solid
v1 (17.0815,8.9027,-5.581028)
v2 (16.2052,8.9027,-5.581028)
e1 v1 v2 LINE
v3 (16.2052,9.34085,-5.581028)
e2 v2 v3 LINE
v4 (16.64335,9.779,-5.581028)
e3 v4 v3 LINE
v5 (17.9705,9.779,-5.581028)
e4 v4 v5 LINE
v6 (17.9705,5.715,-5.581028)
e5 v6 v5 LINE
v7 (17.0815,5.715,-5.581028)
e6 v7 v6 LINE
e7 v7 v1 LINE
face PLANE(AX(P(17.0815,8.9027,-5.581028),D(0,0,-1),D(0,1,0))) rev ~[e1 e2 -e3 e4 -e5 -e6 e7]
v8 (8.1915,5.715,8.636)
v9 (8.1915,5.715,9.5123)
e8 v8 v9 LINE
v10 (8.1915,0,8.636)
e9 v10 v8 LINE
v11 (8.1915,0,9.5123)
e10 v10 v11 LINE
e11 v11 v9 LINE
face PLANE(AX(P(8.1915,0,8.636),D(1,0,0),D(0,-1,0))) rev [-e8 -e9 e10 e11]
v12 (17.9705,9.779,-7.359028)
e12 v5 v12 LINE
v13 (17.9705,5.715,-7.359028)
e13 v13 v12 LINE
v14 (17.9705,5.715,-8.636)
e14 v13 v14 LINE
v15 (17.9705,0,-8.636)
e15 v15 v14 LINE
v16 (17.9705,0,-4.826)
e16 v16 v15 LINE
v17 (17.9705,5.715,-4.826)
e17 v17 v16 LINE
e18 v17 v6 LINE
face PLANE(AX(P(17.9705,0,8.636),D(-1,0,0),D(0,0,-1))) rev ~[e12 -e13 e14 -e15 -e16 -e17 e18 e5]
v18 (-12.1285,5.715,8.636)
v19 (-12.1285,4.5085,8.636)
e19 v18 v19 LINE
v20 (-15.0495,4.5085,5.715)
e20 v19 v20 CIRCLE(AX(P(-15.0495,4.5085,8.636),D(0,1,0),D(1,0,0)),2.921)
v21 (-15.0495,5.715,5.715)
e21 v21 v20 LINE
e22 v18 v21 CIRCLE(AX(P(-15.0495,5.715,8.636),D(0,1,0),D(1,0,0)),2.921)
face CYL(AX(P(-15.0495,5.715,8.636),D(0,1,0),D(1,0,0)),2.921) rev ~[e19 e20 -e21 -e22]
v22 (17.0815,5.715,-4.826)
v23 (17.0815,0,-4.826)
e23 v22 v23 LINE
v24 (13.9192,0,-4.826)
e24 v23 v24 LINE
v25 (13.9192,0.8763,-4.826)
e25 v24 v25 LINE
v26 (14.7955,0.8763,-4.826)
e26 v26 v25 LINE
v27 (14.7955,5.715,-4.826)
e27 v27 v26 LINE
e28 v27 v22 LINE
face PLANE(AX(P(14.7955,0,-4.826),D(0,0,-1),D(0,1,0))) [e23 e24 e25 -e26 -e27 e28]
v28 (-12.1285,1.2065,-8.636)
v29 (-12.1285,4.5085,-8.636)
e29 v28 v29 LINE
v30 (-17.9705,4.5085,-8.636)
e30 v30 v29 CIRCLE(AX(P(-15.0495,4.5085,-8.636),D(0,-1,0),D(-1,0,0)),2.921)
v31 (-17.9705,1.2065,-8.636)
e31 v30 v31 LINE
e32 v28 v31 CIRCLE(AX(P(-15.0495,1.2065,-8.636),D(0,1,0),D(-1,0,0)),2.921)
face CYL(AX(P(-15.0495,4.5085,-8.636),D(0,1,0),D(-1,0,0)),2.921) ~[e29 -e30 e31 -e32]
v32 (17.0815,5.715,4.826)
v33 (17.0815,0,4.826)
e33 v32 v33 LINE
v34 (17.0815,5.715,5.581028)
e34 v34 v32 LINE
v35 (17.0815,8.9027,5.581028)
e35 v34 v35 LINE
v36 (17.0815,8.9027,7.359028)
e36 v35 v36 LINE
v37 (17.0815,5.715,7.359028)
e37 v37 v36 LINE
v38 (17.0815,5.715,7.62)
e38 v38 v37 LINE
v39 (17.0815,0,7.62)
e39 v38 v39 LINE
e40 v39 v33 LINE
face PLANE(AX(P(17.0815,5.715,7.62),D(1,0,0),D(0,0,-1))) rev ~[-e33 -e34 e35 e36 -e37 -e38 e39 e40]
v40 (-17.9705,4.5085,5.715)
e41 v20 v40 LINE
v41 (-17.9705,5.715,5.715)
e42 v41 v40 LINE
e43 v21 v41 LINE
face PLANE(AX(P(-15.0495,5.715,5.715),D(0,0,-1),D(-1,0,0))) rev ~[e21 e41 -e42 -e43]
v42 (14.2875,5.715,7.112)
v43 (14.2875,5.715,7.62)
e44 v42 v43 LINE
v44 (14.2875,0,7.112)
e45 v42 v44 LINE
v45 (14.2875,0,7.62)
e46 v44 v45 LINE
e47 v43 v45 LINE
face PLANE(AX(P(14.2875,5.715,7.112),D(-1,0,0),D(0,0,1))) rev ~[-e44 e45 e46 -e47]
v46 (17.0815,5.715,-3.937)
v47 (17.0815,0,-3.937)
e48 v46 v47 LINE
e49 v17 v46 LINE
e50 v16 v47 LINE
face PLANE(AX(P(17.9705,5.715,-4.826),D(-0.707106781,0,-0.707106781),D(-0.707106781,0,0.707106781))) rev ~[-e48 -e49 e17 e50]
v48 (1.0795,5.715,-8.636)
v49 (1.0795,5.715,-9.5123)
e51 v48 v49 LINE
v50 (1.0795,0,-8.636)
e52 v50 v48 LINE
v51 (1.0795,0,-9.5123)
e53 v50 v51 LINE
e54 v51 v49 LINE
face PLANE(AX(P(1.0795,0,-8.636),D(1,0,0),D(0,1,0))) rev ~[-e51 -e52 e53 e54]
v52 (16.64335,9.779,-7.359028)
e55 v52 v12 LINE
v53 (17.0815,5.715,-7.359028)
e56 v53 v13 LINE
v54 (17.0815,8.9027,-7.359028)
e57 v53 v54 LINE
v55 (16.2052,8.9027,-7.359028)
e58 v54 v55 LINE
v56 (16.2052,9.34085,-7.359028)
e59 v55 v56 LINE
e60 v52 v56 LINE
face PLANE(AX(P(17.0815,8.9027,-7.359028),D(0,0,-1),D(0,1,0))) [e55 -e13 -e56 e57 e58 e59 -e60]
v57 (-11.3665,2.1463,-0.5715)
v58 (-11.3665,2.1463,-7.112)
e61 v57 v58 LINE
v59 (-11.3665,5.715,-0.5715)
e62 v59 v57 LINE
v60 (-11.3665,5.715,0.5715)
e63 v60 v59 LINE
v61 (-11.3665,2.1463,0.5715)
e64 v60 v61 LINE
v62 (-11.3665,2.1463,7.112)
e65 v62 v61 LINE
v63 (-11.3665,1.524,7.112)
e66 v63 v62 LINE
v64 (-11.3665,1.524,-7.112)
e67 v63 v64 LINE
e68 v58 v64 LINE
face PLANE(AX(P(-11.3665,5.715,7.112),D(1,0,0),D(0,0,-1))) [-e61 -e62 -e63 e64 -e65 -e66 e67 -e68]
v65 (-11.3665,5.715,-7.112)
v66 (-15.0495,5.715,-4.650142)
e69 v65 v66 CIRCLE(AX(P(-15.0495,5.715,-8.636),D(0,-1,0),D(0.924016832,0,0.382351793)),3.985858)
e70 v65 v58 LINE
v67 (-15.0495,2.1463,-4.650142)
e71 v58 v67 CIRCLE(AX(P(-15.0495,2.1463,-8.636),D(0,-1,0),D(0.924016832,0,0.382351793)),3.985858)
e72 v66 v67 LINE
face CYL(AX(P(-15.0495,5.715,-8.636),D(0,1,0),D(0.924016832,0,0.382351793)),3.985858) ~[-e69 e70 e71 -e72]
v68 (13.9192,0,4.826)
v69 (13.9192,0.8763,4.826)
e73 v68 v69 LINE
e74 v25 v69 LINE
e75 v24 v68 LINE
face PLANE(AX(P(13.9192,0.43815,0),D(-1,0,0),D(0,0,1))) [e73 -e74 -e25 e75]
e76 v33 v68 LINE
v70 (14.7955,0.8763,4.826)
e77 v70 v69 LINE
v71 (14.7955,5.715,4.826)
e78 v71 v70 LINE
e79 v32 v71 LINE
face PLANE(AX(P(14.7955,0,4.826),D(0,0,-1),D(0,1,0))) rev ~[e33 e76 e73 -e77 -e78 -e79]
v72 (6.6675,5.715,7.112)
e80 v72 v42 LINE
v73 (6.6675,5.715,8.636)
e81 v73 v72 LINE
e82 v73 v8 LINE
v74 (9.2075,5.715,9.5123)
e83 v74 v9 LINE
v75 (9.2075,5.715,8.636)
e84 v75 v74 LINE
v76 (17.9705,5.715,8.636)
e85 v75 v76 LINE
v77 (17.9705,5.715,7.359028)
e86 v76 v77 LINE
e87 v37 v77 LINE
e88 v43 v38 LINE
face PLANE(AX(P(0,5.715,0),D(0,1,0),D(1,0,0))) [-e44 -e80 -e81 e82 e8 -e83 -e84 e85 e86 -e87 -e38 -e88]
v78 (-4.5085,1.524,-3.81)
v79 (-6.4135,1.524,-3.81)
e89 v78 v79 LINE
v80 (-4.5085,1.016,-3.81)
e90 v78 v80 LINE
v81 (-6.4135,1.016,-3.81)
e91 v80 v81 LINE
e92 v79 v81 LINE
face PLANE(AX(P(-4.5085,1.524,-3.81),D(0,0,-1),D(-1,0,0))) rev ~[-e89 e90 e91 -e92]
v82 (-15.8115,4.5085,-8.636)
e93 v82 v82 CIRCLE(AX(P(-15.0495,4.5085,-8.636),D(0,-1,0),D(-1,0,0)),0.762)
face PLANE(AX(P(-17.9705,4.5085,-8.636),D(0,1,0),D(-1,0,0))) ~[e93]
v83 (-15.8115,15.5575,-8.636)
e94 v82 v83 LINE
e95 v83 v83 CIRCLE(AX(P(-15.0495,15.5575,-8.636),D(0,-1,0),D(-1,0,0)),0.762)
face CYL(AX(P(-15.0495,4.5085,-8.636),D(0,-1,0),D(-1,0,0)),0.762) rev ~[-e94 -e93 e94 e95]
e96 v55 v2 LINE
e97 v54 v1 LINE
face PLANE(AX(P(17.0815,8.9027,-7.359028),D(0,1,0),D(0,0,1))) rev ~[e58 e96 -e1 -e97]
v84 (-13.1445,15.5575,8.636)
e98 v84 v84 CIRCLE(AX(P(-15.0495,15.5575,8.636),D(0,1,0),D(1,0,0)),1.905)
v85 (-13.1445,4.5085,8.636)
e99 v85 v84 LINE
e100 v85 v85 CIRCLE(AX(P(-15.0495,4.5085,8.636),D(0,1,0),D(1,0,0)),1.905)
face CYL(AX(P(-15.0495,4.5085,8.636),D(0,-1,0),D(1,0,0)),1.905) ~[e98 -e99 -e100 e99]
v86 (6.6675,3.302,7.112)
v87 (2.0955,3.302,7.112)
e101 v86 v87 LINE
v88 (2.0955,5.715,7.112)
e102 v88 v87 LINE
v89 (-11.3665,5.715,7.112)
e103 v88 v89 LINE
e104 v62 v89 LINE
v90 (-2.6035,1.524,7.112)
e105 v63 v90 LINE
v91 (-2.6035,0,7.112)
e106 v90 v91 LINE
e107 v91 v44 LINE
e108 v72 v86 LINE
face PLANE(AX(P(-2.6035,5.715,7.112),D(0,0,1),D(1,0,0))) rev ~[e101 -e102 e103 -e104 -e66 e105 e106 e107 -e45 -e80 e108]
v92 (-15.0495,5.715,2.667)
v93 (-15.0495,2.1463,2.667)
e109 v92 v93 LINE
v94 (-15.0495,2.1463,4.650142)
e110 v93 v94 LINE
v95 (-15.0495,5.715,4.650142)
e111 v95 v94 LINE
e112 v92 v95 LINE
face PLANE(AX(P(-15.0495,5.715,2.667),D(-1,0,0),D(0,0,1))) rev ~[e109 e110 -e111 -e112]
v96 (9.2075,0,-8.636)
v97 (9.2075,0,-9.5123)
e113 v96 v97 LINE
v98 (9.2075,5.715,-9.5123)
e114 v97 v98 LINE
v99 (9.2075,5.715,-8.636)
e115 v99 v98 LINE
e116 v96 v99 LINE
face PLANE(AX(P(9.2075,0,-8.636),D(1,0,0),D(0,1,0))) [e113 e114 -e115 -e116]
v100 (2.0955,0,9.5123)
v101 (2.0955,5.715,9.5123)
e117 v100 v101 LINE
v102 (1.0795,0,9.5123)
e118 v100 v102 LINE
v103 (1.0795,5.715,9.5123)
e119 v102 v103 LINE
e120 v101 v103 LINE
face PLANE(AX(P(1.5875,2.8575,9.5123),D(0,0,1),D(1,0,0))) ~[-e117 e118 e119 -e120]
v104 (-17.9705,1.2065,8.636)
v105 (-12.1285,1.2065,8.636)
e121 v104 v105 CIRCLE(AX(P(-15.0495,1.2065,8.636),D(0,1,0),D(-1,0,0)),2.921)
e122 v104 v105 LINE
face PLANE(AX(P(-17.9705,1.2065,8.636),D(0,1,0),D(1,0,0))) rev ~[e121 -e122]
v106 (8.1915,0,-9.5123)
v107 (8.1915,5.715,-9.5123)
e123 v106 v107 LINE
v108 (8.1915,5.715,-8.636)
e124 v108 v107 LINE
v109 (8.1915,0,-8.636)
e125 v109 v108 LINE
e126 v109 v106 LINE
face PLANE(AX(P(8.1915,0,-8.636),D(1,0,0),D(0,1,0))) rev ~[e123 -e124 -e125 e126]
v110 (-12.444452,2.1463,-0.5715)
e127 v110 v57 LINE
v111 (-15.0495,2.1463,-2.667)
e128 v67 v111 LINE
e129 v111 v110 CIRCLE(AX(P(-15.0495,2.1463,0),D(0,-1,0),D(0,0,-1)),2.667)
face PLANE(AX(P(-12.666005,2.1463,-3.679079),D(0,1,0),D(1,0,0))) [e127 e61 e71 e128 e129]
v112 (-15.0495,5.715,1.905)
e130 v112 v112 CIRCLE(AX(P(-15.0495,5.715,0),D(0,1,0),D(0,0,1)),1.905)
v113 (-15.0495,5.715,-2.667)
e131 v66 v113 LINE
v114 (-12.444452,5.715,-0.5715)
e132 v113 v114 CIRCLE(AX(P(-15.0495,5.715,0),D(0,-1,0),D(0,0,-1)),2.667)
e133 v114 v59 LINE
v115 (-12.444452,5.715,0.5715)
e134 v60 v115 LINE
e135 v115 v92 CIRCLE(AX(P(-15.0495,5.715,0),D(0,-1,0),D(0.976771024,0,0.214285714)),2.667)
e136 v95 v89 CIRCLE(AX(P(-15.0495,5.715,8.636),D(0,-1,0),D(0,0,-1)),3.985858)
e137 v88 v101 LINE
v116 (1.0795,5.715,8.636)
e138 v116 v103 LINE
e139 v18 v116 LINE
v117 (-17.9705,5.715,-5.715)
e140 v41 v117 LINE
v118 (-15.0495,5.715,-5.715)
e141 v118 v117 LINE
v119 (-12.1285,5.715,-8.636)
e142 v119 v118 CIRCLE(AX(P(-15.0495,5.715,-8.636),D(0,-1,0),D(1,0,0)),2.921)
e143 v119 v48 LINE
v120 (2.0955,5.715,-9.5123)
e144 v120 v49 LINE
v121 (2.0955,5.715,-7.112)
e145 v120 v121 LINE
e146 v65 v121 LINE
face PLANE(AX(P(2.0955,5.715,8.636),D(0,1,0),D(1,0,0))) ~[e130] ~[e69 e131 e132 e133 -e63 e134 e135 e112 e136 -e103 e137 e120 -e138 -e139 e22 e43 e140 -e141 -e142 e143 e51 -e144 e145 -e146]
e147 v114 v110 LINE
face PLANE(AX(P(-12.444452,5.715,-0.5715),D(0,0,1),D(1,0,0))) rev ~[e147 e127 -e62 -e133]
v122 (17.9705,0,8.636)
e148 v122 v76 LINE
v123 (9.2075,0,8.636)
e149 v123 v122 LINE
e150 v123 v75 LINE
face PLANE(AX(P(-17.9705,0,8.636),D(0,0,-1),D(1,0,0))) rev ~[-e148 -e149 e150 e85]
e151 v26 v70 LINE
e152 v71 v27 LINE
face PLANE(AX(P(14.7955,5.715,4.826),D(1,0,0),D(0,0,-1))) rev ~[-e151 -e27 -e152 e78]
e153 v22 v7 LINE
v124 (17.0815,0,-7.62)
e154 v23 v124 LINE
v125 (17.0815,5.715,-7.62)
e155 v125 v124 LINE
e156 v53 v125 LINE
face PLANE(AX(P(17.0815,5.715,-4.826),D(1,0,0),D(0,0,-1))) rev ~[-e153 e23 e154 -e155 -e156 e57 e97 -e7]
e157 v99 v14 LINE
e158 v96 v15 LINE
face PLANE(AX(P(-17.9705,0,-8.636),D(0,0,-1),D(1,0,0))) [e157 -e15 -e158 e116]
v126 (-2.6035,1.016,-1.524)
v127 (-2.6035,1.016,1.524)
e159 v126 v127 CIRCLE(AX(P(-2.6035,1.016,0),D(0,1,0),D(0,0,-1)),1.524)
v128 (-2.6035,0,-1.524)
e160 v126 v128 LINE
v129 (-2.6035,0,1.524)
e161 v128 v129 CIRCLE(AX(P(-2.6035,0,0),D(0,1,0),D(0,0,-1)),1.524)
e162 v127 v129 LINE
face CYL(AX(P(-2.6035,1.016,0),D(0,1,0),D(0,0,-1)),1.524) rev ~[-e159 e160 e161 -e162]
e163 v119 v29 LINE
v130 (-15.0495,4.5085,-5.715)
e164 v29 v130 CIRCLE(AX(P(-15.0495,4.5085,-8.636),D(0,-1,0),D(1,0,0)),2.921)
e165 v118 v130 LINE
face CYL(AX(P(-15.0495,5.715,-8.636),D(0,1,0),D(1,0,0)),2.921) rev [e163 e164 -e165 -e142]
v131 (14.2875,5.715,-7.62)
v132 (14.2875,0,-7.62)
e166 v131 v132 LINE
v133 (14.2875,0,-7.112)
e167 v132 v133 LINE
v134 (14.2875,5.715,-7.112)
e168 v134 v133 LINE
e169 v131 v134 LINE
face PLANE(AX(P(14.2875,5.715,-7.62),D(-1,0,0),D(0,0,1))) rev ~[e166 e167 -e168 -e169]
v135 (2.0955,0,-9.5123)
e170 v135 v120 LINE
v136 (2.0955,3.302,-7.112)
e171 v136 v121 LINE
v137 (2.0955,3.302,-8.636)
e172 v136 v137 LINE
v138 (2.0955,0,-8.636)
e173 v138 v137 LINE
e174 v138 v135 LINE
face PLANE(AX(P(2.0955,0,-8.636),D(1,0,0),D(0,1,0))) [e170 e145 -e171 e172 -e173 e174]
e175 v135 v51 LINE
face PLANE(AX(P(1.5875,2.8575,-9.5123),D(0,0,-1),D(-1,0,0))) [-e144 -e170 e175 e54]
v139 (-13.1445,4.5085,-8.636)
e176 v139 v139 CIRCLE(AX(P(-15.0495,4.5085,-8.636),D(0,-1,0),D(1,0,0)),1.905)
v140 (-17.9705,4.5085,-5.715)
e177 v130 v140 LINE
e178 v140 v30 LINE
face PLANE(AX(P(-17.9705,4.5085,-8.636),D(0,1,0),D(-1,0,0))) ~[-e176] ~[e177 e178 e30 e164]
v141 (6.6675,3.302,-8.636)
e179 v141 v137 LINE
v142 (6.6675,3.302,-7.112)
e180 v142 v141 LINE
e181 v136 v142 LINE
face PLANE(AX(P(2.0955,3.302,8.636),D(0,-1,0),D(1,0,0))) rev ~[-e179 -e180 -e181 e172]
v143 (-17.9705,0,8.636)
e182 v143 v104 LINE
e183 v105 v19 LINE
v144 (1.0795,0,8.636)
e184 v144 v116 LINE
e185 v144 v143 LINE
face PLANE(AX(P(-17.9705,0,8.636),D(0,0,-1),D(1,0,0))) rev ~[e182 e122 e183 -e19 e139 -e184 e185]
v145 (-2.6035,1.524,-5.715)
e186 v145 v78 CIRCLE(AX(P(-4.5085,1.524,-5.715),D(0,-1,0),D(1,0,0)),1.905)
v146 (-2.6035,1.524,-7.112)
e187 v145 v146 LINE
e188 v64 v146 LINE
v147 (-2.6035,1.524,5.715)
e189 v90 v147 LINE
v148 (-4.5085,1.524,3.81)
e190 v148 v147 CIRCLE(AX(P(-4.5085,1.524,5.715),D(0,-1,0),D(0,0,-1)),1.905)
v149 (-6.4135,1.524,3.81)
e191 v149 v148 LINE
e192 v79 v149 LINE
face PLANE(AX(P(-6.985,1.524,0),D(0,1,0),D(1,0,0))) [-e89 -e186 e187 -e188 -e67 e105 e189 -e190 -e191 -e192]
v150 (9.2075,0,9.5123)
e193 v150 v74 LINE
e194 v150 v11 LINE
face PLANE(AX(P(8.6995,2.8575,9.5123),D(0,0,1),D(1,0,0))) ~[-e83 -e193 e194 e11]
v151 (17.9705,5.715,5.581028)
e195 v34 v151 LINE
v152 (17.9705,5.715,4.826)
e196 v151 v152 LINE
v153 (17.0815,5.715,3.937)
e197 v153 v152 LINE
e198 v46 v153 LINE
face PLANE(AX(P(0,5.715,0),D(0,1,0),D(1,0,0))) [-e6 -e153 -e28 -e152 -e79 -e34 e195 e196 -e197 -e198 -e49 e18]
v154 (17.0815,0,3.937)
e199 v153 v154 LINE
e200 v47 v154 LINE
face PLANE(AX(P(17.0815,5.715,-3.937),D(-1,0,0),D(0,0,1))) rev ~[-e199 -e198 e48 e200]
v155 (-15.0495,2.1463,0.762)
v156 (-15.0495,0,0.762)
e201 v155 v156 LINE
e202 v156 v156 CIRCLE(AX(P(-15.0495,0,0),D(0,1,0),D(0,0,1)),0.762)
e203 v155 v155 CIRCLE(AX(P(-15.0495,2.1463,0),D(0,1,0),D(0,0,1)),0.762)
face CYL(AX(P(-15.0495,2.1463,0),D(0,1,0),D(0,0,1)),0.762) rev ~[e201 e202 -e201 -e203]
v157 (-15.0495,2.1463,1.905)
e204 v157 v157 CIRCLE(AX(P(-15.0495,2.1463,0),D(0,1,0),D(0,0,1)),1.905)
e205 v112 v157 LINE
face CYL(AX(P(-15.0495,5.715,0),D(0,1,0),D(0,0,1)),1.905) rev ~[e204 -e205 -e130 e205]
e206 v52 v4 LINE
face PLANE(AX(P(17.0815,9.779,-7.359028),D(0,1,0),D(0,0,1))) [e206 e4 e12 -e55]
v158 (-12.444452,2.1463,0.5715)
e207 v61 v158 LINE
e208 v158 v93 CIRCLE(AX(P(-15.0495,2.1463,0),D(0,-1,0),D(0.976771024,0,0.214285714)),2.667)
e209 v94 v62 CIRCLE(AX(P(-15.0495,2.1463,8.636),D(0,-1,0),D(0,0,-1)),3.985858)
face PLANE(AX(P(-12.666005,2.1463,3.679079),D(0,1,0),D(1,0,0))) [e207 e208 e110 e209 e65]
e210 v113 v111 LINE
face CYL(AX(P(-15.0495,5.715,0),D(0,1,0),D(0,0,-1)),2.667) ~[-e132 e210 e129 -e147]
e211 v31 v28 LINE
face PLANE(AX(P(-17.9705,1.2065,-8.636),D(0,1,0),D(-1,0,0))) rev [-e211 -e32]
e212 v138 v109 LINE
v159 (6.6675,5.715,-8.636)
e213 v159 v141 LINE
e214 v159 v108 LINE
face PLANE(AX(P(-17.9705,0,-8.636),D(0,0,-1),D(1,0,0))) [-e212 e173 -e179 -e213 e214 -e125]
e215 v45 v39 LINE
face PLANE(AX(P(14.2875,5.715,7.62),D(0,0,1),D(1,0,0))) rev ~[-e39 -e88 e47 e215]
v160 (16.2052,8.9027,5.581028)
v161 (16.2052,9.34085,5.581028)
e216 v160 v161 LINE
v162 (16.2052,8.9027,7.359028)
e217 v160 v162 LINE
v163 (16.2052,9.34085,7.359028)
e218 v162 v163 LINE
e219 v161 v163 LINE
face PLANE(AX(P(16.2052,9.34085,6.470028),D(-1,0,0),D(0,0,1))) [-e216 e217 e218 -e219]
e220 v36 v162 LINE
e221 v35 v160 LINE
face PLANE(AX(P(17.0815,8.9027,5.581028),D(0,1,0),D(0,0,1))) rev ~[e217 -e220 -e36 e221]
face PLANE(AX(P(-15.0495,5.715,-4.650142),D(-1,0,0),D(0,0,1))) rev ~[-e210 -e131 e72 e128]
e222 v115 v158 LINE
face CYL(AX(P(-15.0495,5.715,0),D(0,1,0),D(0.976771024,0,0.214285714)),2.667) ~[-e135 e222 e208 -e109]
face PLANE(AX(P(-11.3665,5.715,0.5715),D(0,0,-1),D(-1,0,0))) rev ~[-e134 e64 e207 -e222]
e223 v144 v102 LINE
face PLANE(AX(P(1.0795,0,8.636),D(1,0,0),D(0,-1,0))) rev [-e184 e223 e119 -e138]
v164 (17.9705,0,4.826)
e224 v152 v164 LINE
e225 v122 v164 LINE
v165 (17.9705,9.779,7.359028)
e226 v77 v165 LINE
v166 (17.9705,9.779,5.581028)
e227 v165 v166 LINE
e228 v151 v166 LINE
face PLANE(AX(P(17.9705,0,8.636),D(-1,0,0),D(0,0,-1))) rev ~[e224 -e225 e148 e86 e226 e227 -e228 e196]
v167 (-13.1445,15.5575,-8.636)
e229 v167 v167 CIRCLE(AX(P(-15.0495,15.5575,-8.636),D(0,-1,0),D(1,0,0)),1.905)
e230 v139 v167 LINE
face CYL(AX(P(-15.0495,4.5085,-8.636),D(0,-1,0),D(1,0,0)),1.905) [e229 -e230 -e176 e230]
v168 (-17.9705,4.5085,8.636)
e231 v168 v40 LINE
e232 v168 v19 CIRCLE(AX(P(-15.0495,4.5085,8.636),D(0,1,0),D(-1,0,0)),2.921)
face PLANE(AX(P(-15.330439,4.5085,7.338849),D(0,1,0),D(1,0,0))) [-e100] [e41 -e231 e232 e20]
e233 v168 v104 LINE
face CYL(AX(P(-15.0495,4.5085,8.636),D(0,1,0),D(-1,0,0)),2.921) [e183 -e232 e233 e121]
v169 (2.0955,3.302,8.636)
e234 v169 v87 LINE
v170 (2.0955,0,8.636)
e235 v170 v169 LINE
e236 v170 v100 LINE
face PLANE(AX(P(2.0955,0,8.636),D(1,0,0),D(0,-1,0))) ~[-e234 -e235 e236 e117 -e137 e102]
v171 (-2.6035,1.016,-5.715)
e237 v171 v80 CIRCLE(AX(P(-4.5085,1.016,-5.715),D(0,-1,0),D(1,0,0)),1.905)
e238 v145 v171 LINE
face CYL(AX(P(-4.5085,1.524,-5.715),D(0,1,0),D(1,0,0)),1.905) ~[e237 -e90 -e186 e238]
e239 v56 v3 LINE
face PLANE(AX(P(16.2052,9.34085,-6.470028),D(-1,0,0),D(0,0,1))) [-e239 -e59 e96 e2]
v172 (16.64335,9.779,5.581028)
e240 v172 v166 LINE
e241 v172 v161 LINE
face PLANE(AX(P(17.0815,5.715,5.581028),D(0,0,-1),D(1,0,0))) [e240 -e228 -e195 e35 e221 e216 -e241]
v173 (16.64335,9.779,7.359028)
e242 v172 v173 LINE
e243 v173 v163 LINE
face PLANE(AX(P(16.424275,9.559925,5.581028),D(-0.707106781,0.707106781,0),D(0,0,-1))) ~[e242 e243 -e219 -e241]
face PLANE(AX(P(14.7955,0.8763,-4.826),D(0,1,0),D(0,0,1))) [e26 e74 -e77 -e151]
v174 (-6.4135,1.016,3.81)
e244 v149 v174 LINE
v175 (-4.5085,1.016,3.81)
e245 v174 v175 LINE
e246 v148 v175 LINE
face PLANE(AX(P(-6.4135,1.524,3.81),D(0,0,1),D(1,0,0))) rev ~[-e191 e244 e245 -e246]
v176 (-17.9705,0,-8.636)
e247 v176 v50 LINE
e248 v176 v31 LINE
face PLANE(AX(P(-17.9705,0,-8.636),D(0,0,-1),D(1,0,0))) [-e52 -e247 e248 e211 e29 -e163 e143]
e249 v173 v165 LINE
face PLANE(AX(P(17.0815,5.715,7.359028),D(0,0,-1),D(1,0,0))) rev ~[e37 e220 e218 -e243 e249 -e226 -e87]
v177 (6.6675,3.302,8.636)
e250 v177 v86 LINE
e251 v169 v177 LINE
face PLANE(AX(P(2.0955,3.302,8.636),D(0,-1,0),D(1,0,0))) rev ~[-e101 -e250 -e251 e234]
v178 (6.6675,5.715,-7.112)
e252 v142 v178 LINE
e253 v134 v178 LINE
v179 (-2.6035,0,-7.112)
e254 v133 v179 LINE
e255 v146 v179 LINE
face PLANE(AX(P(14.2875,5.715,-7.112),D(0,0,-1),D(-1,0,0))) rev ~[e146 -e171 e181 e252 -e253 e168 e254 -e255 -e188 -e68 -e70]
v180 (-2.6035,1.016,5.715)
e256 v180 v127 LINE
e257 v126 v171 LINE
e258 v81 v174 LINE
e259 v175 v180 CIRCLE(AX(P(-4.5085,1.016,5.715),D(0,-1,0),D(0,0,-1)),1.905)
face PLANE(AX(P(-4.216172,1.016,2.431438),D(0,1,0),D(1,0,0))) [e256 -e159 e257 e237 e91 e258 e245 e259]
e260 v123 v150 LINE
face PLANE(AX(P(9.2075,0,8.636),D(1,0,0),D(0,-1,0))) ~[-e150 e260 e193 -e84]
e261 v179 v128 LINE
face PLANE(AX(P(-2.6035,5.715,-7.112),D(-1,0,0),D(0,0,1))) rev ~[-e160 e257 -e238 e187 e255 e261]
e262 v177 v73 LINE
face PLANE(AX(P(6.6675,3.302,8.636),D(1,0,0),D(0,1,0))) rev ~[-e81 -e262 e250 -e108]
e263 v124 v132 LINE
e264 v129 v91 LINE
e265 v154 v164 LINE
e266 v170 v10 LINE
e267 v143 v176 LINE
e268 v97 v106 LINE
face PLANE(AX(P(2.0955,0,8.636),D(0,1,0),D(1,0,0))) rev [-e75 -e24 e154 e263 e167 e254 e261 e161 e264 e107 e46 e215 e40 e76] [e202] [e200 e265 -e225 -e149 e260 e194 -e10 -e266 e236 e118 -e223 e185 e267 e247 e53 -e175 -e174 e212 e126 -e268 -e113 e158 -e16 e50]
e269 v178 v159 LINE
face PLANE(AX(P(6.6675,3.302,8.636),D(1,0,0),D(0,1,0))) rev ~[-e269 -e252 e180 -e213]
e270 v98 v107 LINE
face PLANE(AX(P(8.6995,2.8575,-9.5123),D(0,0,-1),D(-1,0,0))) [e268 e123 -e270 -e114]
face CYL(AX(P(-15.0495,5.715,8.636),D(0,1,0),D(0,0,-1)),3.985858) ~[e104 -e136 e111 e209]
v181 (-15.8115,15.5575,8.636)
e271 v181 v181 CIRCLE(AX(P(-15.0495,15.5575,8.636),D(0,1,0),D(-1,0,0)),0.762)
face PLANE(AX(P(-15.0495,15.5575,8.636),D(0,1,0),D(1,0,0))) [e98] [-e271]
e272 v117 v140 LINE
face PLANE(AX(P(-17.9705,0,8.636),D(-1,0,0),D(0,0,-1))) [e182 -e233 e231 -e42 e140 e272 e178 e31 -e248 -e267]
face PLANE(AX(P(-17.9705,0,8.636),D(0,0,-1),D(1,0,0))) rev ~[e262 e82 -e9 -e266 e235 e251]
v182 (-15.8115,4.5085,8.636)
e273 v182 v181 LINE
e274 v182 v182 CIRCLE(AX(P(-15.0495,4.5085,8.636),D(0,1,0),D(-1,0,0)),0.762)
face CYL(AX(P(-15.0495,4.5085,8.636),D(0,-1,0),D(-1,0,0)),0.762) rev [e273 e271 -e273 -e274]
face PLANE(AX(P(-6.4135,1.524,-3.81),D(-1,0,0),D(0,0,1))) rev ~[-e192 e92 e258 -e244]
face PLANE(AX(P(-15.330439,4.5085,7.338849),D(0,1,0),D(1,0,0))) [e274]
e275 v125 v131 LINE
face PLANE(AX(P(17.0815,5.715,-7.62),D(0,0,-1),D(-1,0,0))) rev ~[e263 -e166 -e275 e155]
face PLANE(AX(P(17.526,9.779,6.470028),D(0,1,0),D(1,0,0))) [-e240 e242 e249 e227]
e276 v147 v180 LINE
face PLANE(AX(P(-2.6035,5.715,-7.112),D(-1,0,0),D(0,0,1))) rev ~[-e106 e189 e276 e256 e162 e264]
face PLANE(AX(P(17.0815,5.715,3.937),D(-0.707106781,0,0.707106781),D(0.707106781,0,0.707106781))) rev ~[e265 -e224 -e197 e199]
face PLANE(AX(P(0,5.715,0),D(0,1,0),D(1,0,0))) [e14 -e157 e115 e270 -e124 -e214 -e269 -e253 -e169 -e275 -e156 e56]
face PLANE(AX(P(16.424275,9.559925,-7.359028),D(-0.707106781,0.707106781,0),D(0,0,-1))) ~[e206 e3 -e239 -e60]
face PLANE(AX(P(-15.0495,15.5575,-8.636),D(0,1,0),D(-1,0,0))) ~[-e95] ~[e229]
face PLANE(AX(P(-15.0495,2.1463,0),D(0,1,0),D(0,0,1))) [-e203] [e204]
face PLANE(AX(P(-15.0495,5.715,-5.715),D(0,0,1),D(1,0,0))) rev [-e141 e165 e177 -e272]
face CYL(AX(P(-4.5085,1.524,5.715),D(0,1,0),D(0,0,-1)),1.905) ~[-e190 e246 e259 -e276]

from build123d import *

# Parameters (mm, degrees)
SKETCH1_W           = 35.941
SKETCH1_H           = 17.272
BOSS_EXTRUDE1_DEPTH = 5.715
SKETCH2_W           = 4.572
SKETCH2_H           = 2.413
CUT_EXTRUDE1_DEPTH  = 26.571900188
CUT_EXTRUDE2_DEPTH  = 21.740795338
SKETCH4_W           = 8.763
SKETCH4_H           = 14.224
CUT_EXTRUDE3_DEPTH  = 2.54
SKETCH4_2_W         = 8.763
SKETCH4_2_H         = 14.224
CUT_EXTRUDE4_DEPTH  = 4.191
SKETCH6_W           = 9.652
SKETCH6_H           = 0.8763
BOSS_EXTRUDE2_DEPTH = 0.8763
SKETCH7_W           = 0.889
SKETCH7_H           = 1.778
BOSS_EXTRUDE3_DEPTH = 4.064
SKETCH9_W           = 1.778
SKETCH9_H           = 0.8763
BOSS_EXTRUDE5_DEPTH = 0.8763
CHAMFER1_SIZE       = 0.43815
SKETCH11_W          = 1.016
SKETCH11_H          = 5.715
BOSS_EXTRUDE6_DEPTH = 0.8763
CUT_EXTRUDE5_DEPTH  = 0.508
CUT_EXTRUDE6_DEPTH  = 23.140751806
SKETCH20_W          = 5.842
SKETCH20_H          = 3.302
BOSS_EXTRUDE8_DEPTH = 4.318
CUT_EXTRUDE12_DEPTH = 1.2065
CUT_EXTRUDE13_DEPTH = 23.771103542
SKETCH26_R          = 1.905
SKETCH26_R_2        = 0.762
BOSS_EXTRUDE9_DEPTH = 11.049
SKETCH27_R          = 1.905
CUT_EXTRUDE14_DEPTH = 3.5687
SKETCH29_R          = 0.762
CUT_EXTRUDE15_DEPTH = 26.226244364


with BuildPart() as part:
    # Sketch1 → Boss-Extrude1 (new body)
    with BuildSketch(Plane(origin=(0, 0, 0), x_dir=(1, 0, 0), z_dir=(0, 1, 0))):
        Rectangle(SKETCH1_W, SKETCH1_H)
    extrude(amount=BOSS_EXTRUDE1_DEPTH)

    # Sketch2 → Cut-Extrude1 (cut, through all)
    with BuildSketch(Plane.XY.offset(8.636)):
        with Locations((4.3815, 4.5085)):
            Rectangle(SKETCH2_W, SKETCH2_H)
    extrude(amount=-CUT_EXTRUDE1_DEPTH, mode=Mode.SUBTRACT)

    # Sketch3 → Cut-Extrude2 (cut, through all)
    with BuildSketch(Plane(origin=(0, 5.715, 0), x_dir=(1, 0, 0), z_dir=(0, 1, 0))):
        Polygon((17.0815, 3.937), (17.0815, -3.937), (17.9705, -4.826), (17.9705, 4.826), align=None)
        Polygon((17.0815, 4.826), (17.0815, 7.62), (14.2875, 7.62), (14.2875, 7.112), (-2.6035, 7.112), (-2.6035, -7.112), (14.2875, -7.112), (14.2875, -7.62), (17.0815, -7.62), (17.0815, -4.826), (14.7955, -4.826), (14.7955, 4.826), align=None)
    extrude(amount=-CUT_EXTRUDE2_DEPTH, mode=Mode.SUBTRACT)

    # Sketch4 → Cut-Extrude3 (cut)
    with BuildSketch(Plane(origin=(0, 5.715, 0), x_dir=(1, 0, 0), z_dir=(0, 1, 0))):
        with Locations((-6.985, 0)):
            Rectangle(SKETCH4_W, SKETCH4_H)
    extrude(amount=-CUT_EXTRUDE3_DEPTH, mode=Mode.SUBTRACT)

    # Sketch4<2> → Cut-Extrude4 (cut)
    with BuildSketch(Plane(origin=(0, 5.715, 0), x_dir=(1, 0, 0), z_dir=(0, 1, 0))):
        with Locations((-6.985, 0)):
            Rectangle(SKETCH4_2_W, SKETCH4_2_H)
    extrude(amount=-CUT_EXTRUDE4_DEPTH, mode=Mode.SUBTRACT)

    # Sketch6 → Boss-Extrude2 (add)
    with BuildSketch(Plane.ZY.offset(-14.7955)):
        with Locations((0, 0.43815)):
            Rectangle(SKETCH6_W, SKETCH6_H)
    extrude(amount=BOSS_EXTRUDE2_DEPTH)

    # Sketch7 → Boss-Extrude3 (add)
    with BuildSketch(Plane(origin=(0, 5.715, 0), x_dir=(1, 0, 0), z_dir=(0, 1, 0))):
        with Locations((17.526, 6.470028065)):
            Rectangle(SKETCH7_W, SKETCH7_H)
        with Locations((17.526, -6.470028065)):
            Rectangle(SKETCH7_W, SKETCH7_H)
    extrude(amount=BOSS_EXTRUDE3_DEPTH)

    # Sketch9 → Boss-Extrude5 (add)
    with BuildSketch(Plane.ZY.offset(-17.0815)):
        with Locations((-6.470028065, 9.34085)):
            Rectangle(SKETCH9_W, SKETCH9_H)
        with Locations((6.470028065, 9.34085)):
            Rectangle(SKETCH9_W, SKETCH9_H)
    extrude(amount=BOSS_EXTRUDE5_DEPTH)

    # Chamfer1
    chamfer1_edges = [part.edges().sort_by_distance(p)[0] for p in [
        (16.2052, 9.779, 6.470028065),
        (16.2052, 9.779, -6.470028065),
    ]]
    chamfer(chamfer1_edges, length=CHAMFER1_SIZE)

    # Sketch11 → Boss-Extrude6 (add)
    with BuildSketch(Plane(origin=(0, 0, -8.636), x_dir=(-1, 0, 0), z_dir=(0, 0, -1))):
        with Locations((-1.5875, 2.8575)):
            Rectangle(SKETCH11_W, SKETCH11_H)
        with Locations((-8.6995, 2.8575)):
            Rectangle(SKETCH11_W, SKETCH11_H)
    boss_extrude6 = extrude(amount=BOSS_EXTRUDE6_DEPTH)

    # Mirror1: Boss-Extrude6 across plane
    add(boss_extrude6.mirror(Plane.XY))

    # Sketch12 → Cut-Extrude5 (cut)
    with BuildSketch(Plane(origin=(0, 1.524, 0), x_dir=(1, 0, 0), z_dir=(0, 1, 0))):
        with BuildLine():
            Line((-2.6035, -5.715), (-2.6035, 5.715))
            ThreePointArc((-2.6035, 5.715), (-3.161461582, 4.367961582), (-4.5085, 3.81))
            Line((-4.5085, 3.81), (-6.4135, 3.81))
            Line((-6.4135, 3.81), (-6.4135, -3.81))
            Line((-6.4135, -3.81), (-4.5085, -3.81))
            ThreePointArc((-4.5085, -3.81), (-3.161461582, -4.367961582), (-2.6035, -5.715))
        make_face()
    extrude(amount=-CUT_EXTRUDE5_DEPTH, mode=Mode.SUBTRACT)

    # Sketch13 → Cut-Extrude6 (cut, through all)
    with BuildSketch(Plane(origin=(0, 1.016, 0), x_dir=(1, 0, 0), z_dir=(0, 1, 0))):
        with BuildLine():
            Line((-2.6035, -1.524), (-2.6035, 1.524))
            ThreePointArc((-2.6035, 1.524), (-4.1275, 0), (-2.6035, -1.524))
        make_face()
    extrude(amount=-CUT_EXTRUDE6_DEPTH, mode=Mode.SUBTRACT)

    # Sketch20 → Boss-Extrude8 (add)
    with BuildSketch(Plane.XY.offset(8.636)):
        with Locations((-15.0495, 2.8575)):
            Rectangle(SKETCH20_W, SKETCH20_H)
    boss_extrude8 = extrude(amount=BOSS_EXTRUDE8_DEPTH)

    # Mirror5: Boss-Extrude8 across plane
    add(boss_extrude8.mirror(Plane.XY))

    # Sketch23 → Cut-Extrude12 (cut)
    with BuildSketch(Plane(origin=(0, 5.715, 0), x_dir=(1, 0, 0), z_dir=(0, 1, 0))):
        with BuildLine():
            Line((-15.0495, -5.715), (-17.9705, -5.715))
            Line((-17.9705, -5.715), (-17.9705, -8.636))
            Line((-17.9705, -8.636), (-12.1285, -8.636))
            ThreePointArc((-12.1285, -8.636), (-12.984041092, -6.570541092), (-15.0495, -5.715))
        make_face()
    cut_extrude12 = extrude(amount=-CUT_EXTRUDE12_DEPTH, mode=Mode.SUBTRACT)

    # Mirror8: Cut-Extrude12 across plane
    add(cut_extrude12.mirror(Plane.XY), mode=Mode.SUBTRACT)

    # Sketch25 → Cut-Extrude13 (cut, through all)
    with BuildSketch(Plane(origin=(0, 4.5085, 0), x_dir=(1, 0, 0), z_dir=(0, 1, 0))):
        with BuildLine():
            Line((-12.1285, -8.636), (-12.1285, -12.954))
            Line((-12.1285, -12.954), (-17.9705, -12.954))
            Line((-17.9705, -12.954), (-17.9705, -8.636))
            ThreePointArc((-17.9705, -8.636), (-15.0495, -11.557), (-12.1285, -8.636))
        make_face()
    cut_extrude13 = extrude(amount=-CUT_EXTRUDE13_DEPTH, mode=Mode.SUBTRACT)

    # Mirror9: Cut-Extrude13 across plane
    add(cut_extrude13.mirror(Plane.XY), mode=Mode.SUBTRACT)

    # Sketch26 → Boss-Extrude9 (add)
    with BuildSketch(Plane(origin=(0, 4.5085, 0), x_dir=(1, 0, 0), z_dir=(0, 1, 0))):
        with Locations((-15.0495, -8.636)):
            Circle(SKETCH26_R)
        with Locations((-15.0495, -8.636)):
            Circle(SKETCH26_R_2, mode=Mode.SUBTRACT)
    boss_extrude9 = extrude(amount=BOSS_EXTRUDE9_DEPTH)

    # Mirror10: Boss-Extrude9 across plane
    add(boss_extrude9.mirror(Plane.XY))

    # Sketch27 → Cut-Extrude14 (cut)
    with BuildSketch(Plane(origin=(0, 5.715, 0), x_dir=(1, 0, 0), z_dir=(0, 1, 0))):
        with BuildLine():
            Line((-11.3665, -7.112), (-11.3665, -0.5715))
            Line((-11.3665, -0.5715), (-12.44445168, -0.5715))
            ThreePointArc((-12.44445168, -0.5715), (-13.377869284, -2.078109658), (-15.0495, -2.667))
            Line((-15.0495, -2.667), (-15.0495, -4.650141874))
            ThreePointArc((-15.0495, -4.650141874), (-12.834481127, -5.322277563), (-11.3665, -7.112))
        make_face()
        with BuildLine():
            Line((-12.44445168, 0.5715), (-11.3665, 0.5715))
            Line((-11.3665, 0.5715), (-11.3665, 7.112))
            ThreePointArc((-11.3665, 7.112), (-12.834481127, 5.322277563), (-15.0495, 4.650141874))
            Line((-15.0495, 4.650141874), (-15.0495, 2.667))
            ThreePointArc((-15.0495, 2.667), (-13.377869284, 2.078109658), (-12.44445168, 0.5715))
        make_face()
        with Locations((-15.0495, 0)):
            Circle(SKETCH27_R)
    extrude(amount=-CUT_EXTRUDE14_DEPTH, mode=Mode.SUBTRACT)

    # Sketch29 → Cut-Extrude15 (cut, through all)
    with BuildSketch(Plane(origin=(0, 2.1463, 0), x_dir=(1, 0, 0), z_dir=(0, 1, 0))):
        with Locations((-15.0495, 0)):
            Circle(SKETCH29_R)
    extrude(amount=-CUT_EXTRUDE15_DEPTH, mode=Mode.SUBTRACT)


solid = part.part
